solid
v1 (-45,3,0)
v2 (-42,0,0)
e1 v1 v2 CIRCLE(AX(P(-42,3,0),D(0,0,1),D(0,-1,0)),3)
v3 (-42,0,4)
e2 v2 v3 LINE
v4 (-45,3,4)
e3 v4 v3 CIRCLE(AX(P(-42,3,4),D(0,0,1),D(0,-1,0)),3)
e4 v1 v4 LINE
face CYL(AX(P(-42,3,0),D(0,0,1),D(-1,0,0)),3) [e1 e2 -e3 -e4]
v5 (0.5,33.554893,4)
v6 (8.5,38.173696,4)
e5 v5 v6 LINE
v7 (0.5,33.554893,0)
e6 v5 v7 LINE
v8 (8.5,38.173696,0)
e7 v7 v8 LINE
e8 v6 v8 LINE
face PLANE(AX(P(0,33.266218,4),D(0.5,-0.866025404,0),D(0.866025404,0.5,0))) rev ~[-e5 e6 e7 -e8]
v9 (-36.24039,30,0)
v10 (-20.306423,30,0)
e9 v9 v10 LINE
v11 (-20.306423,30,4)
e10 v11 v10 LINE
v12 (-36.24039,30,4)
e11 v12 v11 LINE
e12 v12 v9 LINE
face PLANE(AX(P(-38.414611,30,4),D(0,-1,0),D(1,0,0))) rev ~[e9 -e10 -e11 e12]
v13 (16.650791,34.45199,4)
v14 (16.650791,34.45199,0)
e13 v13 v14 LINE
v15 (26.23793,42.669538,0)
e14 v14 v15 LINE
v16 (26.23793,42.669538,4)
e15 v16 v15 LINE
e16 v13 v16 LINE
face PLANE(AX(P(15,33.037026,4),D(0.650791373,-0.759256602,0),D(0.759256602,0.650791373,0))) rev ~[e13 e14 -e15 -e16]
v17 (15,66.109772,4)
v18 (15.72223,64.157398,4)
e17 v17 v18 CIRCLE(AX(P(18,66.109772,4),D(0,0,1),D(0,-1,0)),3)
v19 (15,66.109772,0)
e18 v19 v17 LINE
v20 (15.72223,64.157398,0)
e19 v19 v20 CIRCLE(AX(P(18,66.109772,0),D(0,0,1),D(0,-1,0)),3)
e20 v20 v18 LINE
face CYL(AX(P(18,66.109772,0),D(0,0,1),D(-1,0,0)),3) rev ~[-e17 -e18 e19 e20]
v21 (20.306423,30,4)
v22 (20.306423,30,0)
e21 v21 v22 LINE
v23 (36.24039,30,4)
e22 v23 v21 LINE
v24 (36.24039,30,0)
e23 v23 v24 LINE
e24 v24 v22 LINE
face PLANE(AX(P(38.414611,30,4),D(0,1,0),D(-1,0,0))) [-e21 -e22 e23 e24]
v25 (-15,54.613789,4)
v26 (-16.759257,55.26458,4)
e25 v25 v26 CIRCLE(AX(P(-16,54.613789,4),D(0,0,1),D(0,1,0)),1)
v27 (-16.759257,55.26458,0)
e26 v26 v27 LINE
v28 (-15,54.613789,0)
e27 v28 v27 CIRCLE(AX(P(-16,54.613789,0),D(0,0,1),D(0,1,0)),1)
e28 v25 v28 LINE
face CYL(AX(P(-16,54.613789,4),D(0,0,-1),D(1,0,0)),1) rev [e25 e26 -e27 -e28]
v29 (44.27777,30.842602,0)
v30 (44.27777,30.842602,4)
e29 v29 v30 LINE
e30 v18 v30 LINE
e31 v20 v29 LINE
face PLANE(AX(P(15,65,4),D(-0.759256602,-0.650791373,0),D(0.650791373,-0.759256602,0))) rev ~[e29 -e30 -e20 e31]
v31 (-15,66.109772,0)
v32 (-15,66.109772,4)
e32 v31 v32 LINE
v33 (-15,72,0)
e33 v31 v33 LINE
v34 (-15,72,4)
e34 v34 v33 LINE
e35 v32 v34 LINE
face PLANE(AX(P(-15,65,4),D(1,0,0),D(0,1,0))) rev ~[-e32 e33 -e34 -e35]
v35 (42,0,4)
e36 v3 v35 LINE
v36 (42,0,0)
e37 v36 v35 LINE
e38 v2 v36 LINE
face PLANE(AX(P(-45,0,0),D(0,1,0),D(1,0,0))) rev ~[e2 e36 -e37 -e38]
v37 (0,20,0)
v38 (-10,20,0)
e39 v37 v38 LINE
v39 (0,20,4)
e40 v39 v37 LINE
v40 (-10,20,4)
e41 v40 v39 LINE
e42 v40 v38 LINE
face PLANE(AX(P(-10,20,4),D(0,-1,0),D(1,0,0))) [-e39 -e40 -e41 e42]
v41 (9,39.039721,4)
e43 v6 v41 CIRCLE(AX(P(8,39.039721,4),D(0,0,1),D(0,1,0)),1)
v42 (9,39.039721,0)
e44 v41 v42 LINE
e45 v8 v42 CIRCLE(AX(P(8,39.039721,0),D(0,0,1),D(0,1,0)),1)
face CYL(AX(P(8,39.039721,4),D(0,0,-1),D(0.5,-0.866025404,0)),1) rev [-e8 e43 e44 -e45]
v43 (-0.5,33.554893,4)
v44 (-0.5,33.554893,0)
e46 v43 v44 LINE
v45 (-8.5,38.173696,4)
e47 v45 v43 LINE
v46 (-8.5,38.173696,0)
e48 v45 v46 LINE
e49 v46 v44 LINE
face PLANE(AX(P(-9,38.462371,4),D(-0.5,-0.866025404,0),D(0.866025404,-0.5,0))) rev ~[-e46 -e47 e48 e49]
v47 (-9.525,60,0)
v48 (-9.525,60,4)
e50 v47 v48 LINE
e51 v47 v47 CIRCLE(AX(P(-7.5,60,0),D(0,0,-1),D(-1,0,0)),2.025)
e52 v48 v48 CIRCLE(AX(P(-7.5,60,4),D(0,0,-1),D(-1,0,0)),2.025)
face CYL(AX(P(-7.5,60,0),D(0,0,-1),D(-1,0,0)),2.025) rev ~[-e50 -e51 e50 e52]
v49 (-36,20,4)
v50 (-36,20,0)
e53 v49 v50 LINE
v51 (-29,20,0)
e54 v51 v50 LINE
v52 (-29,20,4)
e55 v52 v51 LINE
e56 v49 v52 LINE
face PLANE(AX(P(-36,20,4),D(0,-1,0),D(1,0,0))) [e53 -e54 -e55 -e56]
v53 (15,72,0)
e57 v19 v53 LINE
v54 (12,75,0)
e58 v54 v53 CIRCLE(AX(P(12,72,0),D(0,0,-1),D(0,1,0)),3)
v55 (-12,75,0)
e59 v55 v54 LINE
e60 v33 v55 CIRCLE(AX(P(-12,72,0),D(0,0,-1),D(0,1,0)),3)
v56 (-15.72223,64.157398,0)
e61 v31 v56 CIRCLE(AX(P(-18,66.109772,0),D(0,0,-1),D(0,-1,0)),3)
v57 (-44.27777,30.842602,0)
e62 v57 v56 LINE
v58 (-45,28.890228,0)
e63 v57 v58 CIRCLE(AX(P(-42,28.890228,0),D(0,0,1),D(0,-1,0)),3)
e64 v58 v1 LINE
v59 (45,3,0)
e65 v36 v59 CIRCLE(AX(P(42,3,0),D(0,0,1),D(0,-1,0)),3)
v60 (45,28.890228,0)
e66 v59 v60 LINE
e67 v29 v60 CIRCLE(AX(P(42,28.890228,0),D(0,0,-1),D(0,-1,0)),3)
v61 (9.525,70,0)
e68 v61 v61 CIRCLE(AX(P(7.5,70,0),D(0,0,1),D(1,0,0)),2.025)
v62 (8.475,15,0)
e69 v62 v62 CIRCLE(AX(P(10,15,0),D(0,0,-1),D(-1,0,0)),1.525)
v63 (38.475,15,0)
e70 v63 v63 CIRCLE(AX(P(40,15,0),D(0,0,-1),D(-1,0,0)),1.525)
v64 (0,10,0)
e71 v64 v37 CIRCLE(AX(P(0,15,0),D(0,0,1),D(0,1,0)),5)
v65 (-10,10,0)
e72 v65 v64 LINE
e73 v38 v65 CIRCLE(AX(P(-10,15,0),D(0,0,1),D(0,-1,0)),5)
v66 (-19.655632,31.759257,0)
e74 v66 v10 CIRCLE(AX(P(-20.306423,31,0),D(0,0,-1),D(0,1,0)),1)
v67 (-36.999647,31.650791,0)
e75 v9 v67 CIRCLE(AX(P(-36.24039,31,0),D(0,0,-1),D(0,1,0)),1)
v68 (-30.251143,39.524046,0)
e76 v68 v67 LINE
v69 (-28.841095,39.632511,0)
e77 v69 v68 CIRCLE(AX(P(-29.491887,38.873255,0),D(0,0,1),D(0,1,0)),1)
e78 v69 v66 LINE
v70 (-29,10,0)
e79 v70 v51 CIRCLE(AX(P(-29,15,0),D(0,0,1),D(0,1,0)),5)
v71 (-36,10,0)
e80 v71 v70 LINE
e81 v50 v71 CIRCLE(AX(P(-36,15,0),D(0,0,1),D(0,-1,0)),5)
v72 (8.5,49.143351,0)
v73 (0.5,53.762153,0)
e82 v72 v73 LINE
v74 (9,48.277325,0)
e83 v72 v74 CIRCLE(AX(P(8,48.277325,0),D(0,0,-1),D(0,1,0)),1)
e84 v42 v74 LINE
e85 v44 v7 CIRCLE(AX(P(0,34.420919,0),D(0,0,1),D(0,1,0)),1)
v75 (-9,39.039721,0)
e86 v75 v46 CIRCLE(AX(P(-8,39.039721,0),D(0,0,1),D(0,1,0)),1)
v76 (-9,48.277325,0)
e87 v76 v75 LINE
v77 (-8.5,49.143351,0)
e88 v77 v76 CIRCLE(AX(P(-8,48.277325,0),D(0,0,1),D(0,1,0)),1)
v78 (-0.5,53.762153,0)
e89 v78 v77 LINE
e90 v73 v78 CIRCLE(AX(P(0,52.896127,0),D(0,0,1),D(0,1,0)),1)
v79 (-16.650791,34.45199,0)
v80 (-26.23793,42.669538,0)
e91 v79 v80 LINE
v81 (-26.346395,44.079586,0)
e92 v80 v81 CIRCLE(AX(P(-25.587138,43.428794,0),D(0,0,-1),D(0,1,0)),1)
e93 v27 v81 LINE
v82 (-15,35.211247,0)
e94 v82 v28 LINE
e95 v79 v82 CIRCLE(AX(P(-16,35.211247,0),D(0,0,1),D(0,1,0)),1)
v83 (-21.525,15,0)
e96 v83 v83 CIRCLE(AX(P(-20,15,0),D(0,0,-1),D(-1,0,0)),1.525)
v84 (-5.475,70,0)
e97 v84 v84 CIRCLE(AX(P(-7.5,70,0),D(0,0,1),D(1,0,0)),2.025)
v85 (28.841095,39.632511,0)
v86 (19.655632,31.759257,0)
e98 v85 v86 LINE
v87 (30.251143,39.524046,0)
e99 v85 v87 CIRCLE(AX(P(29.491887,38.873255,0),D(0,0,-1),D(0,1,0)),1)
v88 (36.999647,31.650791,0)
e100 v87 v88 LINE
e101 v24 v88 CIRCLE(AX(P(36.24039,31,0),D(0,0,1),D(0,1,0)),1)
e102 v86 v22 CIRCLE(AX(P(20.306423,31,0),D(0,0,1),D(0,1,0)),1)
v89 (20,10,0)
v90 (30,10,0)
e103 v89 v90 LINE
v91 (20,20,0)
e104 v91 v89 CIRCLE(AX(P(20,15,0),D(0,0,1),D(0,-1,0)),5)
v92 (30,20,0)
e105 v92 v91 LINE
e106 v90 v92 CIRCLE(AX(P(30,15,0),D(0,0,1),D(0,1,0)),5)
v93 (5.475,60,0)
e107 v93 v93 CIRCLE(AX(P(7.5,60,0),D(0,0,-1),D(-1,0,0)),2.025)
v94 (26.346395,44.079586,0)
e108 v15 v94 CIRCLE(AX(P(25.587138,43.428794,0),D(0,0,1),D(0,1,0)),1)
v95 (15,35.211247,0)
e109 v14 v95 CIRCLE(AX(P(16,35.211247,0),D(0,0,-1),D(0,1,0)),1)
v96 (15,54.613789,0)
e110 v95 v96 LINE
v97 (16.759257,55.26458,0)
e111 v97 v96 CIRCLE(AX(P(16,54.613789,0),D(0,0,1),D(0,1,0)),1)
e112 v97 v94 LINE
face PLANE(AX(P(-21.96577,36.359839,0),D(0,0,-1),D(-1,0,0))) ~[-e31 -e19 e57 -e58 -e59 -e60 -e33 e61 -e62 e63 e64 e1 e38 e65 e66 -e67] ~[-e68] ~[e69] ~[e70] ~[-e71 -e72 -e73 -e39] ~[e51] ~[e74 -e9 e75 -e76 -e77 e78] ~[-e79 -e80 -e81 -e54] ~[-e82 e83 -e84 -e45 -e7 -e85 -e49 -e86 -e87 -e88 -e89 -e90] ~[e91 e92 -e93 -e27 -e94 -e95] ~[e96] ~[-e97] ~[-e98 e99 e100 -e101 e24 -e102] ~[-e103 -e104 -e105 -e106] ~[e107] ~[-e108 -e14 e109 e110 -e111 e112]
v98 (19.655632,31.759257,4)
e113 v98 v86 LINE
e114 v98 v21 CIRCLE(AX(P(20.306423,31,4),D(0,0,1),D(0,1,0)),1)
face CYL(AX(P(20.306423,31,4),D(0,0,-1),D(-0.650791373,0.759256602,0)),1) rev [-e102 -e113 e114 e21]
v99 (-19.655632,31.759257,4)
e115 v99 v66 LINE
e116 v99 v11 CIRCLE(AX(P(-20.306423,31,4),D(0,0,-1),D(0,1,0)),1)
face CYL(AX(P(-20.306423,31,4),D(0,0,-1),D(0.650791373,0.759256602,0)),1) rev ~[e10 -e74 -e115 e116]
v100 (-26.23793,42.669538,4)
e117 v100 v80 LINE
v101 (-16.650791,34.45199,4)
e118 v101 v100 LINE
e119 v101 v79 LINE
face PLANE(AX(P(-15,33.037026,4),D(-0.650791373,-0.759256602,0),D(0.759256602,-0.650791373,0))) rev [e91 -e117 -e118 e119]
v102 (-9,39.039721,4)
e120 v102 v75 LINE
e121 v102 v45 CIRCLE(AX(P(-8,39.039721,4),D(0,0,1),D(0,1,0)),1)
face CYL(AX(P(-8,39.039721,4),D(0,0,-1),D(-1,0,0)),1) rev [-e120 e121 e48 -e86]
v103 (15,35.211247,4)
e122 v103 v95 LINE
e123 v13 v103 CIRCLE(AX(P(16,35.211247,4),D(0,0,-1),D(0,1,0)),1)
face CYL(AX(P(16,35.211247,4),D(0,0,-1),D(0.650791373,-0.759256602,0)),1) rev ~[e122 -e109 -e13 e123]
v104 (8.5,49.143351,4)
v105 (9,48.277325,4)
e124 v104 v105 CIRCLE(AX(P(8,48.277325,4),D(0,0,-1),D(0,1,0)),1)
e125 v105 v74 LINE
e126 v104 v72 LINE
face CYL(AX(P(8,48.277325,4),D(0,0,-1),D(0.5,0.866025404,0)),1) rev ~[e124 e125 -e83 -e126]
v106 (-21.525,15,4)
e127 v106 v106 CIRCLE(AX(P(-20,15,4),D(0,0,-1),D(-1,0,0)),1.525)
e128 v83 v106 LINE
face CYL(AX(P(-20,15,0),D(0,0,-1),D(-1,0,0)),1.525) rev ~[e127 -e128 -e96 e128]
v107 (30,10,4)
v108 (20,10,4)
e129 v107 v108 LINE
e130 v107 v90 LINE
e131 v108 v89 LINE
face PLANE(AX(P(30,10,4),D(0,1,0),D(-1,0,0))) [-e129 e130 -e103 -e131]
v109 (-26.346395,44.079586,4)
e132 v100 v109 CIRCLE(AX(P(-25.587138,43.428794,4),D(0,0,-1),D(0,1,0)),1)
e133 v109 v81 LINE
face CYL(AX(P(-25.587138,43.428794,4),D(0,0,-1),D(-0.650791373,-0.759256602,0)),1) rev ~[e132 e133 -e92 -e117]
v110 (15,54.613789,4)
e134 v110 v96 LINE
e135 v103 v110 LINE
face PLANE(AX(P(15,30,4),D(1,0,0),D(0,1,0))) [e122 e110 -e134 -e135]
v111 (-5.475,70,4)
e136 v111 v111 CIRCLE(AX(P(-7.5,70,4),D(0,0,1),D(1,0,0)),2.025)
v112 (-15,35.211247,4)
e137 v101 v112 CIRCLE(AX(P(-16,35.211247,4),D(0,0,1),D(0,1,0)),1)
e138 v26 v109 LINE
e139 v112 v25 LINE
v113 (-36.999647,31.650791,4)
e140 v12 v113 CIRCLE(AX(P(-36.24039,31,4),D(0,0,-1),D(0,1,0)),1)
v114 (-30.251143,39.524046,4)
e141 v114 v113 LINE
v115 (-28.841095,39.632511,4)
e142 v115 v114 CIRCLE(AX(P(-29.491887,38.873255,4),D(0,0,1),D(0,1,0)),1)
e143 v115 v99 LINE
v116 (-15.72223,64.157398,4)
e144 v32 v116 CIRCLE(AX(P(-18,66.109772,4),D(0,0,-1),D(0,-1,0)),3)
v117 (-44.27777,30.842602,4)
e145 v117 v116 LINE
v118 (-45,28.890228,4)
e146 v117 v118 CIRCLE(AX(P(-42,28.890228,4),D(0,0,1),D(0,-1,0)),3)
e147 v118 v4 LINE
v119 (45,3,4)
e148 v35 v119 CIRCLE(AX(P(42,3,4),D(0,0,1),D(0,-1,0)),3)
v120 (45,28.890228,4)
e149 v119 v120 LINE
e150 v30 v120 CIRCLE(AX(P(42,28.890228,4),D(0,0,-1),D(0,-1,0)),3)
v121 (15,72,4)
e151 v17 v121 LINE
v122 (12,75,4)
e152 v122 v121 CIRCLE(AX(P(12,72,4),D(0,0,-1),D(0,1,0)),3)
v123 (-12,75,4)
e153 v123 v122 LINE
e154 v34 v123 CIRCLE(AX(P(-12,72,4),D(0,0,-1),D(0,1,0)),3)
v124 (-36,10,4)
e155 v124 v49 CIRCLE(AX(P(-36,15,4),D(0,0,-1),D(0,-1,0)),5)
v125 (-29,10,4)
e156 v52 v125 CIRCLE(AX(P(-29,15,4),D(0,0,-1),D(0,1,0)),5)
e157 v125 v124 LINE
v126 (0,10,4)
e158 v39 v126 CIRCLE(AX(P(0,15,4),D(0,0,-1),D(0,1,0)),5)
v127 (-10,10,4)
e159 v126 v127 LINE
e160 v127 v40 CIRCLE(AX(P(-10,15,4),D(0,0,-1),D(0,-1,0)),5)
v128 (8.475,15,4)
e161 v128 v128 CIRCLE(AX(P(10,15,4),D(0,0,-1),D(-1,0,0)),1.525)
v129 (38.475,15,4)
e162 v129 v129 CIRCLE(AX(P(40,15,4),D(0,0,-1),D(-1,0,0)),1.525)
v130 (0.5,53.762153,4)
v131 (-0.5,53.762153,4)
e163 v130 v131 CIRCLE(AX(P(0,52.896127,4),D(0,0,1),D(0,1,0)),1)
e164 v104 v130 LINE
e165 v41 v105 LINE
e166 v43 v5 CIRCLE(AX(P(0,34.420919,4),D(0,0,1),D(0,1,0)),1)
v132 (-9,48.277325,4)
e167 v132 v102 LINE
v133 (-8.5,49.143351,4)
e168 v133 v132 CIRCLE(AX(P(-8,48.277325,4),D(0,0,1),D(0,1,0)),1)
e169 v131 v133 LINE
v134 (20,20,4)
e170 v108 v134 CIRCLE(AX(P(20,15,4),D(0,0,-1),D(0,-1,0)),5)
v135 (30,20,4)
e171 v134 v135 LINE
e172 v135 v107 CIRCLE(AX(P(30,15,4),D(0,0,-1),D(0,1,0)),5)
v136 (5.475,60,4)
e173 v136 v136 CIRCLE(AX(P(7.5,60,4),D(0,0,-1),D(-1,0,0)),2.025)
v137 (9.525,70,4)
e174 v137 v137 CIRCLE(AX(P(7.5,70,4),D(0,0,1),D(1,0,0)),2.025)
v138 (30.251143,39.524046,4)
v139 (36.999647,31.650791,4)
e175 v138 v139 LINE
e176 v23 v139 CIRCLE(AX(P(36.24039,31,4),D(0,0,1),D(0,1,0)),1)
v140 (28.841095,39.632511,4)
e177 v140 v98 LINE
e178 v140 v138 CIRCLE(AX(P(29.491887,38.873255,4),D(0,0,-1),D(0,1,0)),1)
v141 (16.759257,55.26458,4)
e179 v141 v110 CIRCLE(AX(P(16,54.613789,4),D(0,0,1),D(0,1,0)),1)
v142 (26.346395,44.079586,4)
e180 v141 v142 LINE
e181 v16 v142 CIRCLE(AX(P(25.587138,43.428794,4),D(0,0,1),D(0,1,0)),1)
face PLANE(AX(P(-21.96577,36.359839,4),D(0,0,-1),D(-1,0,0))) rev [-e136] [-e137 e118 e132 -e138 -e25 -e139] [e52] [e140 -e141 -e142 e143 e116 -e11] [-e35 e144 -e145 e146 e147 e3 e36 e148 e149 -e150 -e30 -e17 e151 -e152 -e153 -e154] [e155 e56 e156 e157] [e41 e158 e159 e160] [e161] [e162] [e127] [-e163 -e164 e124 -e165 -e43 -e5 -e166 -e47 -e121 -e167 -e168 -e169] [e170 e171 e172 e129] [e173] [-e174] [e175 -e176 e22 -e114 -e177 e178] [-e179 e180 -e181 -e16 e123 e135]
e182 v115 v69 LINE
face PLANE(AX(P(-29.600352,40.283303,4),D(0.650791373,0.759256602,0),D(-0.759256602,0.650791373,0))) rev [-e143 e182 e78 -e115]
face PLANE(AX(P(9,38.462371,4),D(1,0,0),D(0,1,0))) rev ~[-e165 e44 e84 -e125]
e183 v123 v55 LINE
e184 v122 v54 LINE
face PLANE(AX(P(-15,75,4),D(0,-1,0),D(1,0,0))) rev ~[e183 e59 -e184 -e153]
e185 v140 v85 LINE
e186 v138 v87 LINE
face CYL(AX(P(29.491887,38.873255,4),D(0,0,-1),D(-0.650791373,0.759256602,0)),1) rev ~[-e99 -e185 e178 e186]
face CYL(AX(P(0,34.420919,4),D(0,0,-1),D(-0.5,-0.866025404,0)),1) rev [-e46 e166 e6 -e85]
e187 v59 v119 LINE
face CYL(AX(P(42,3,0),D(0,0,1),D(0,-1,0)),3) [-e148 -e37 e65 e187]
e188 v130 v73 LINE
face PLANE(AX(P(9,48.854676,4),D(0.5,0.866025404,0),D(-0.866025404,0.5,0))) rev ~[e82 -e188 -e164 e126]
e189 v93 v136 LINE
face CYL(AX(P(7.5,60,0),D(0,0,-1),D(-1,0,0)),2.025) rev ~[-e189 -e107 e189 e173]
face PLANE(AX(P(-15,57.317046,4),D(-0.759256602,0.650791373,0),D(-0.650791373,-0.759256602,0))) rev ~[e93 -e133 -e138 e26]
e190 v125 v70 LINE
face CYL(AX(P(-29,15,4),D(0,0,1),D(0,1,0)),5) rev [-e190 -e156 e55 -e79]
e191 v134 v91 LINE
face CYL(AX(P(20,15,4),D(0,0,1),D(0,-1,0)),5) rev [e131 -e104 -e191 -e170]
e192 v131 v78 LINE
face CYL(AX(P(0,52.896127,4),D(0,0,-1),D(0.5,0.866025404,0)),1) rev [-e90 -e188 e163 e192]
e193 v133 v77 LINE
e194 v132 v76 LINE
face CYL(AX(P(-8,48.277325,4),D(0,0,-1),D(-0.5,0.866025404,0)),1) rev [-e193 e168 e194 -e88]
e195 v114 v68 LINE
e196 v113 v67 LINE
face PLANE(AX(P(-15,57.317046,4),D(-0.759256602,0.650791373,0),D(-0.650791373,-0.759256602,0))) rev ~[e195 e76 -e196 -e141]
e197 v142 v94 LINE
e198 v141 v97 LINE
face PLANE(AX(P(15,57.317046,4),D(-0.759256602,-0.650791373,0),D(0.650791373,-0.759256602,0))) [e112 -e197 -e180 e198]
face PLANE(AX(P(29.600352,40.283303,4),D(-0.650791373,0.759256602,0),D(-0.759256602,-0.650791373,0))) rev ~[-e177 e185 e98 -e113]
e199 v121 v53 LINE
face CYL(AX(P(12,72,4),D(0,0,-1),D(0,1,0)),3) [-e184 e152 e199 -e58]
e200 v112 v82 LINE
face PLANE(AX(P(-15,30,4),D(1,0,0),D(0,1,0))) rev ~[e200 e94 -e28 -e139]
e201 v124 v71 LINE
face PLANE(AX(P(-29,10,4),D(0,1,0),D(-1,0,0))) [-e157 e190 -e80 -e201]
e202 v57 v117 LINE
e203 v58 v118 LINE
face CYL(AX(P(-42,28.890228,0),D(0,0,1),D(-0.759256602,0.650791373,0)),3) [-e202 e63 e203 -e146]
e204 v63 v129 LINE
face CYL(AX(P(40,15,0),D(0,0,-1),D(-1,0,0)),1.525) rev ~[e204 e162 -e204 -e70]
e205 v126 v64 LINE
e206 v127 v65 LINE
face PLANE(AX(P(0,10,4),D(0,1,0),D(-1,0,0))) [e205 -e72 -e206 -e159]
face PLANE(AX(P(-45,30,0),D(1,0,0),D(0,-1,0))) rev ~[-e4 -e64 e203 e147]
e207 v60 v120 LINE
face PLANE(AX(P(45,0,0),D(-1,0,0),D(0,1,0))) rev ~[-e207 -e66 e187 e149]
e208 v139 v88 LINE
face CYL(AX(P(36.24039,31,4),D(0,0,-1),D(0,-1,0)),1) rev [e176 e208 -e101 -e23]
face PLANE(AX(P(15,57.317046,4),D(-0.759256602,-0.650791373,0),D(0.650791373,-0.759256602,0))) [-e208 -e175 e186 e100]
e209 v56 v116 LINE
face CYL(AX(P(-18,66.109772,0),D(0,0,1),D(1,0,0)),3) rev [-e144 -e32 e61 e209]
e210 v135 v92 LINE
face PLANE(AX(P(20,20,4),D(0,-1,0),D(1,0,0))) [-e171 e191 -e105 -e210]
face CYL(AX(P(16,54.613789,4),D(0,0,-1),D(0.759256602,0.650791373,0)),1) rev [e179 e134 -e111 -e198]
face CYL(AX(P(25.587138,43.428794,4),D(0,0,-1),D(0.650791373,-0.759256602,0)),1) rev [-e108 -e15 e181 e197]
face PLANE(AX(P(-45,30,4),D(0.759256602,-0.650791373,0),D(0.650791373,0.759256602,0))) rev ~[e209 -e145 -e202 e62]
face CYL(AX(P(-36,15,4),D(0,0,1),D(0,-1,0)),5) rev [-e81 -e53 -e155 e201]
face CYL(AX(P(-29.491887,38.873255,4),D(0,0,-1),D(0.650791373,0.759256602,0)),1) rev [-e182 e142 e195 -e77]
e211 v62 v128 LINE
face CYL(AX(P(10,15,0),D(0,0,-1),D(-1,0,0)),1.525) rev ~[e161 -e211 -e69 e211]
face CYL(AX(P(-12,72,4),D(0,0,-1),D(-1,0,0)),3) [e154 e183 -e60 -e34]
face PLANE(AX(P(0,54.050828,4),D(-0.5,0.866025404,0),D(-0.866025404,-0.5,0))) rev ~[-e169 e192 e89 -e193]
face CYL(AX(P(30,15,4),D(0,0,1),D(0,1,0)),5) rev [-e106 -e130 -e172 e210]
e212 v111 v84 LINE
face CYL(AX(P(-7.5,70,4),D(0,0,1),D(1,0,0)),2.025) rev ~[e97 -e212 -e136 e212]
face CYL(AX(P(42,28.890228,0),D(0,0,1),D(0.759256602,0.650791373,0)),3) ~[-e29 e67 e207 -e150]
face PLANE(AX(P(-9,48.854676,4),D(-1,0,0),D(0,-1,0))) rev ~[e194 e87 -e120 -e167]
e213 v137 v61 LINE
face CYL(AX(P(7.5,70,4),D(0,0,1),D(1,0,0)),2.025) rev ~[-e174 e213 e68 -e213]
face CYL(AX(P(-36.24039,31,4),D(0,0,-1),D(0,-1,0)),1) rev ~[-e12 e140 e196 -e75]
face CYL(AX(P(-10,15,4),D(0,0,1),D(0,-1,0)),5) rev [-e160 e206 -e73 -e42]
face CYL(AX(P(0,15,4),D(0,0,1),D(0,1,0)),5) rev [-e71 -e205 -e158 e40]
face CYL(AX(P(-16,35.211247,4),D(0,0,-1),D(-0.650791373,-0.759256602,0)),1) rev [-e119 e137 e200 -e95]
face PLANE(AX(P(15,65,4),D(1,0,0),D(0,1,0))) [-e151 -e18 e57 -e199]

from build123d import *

# Parameters (mm, degrees)
EXTRUDE_1_DEPTH          = 4
EXTRUDE_2_DEPTH          = 4
CUT_EXTRUDE_2_DEPTH      = 4
CUT_EXTRUDE_3_DEPTH      = 4
SKETCH_8_R               = 1.525
CUT_EXTRUDE_4_DEPTH      = 10
SKETCH_9_R               = 2.025
CUT_EXTRUDE_5_DEPTH      = 10
CUT_EXTRUDE_6_DEPTH      = 1
CUT_EXTRUDE_6_DEPTH_BACK = 5
SKETCH_11_W              = 30
SKETCH_11_H              = 10
SKETCH_11_R              = 2.025
EXTRUDE_3_DEPTH          = 4
FILLET_2_R               = 3
EXTRUDE_4_DEPTH          = 4
FILLET_3_R               = 1


with BuildPart() as part:
    # 草图1 → 凸台-拉伸1 (new body)
    with BuildSketch(Plane.XY):
        Polygon((-45, 0), (45, 0), (45, 30), (15, 30), (15, 65), (-15, 65), (-15, 30), (-45, 30), align=None)
    extrude(amount=EXTRUDE_1_DEPTH)

    # 草图4 → 凸台-拉伸2 (add)
    with BuildSketch(Plane.XY.offset(4)):
        Polygon((-45, 30), (-15, 65), (-15, 30), align=None)
        Polygon((15, 65), (45, 30), (15, 30), align=None)
    extrude(amount=-EXTRUDE_2_DEPTH)

    # 草图5 → 切除-拉伸2 (cut)
    with BuildSketch(Plane.XY.offset(4)):
        Polygon((-38.414611102, 30), (-15, 30), (-15, 57.317046286), align=None)
        Polygon((15, 57.317046286), (38.414611102, 30), (15, 30), align=None)
    extrude(amount=-CUT_EXTRUDE_2_DEPTH, mode=Mode.SUBTRACT)

    # 草图6 → 切除-拉伸3 (cut)
    with BuildSketch(Plane.XY.offset(4)):
        Polygon((0, 54.050827988), (-9, 48.854675566), (-9, 38.46237072), (0, 33.266218297), (9, 38.46237072), (9, 48.854675566), align=None)
    extrude(amount=-CUT_EXTRUDE_3_DEPTH, mode=Mode.SUBTRACT)

    # 草图8 → 切除-拉伸4 (cut)
    with BuildSketch(Plane(origin=(0, 0, 0), x_dir=(-1, 0, 0), z_dir=(0, 0, -1))):
        with Locations((20.000000001, 14.999999905)):
            Circle(SKETCH_8_R)
        with Locations((-9.999999999, 14.999999905)):
            Circle(SKETCH_8_R)
        with Locations((-39.999999999, 14.999999905)):
            Circle(SKETCH_8_R)
    extrude(amount=-CUT_EXTRUDE_4_DEPTH, mode=Mode.SUBTRACT)

    # 草图9 → 切除-拉伸5 (cut)
    with BuildSketch(Plane(origin=(0, 0, 0), x_dir=(-1, 0, 0), z_dir=(0, 0, -1))):
        with Locations((-7.5, 60)):
            Circle(SKETCH_9_R)
        with Locations((7.5, 60)):
            Circle(SKETCH_9_R)
    extrude(amount=-CUT_EXTRUDE_5_DEPTH, mode=Mode.SUBTRACT)

    # 草图10 → 切除-拉伸6 (cut, two sides)
    with BuildSketch(Plane.XY.offset(4)) as cut_extrude_6_sk:
        with BuildLine():
            Line((-10.000000001, 19.999999905), (-1e-09, 19.999999905))
            ThreePointArc((-1e-09, 19.999999905), (4.999999999, 14.999999905), (-1e-09, 9.999999905))
            Line((-1e-09, 9.999999905), (-10.000000001, 9.999999905))
            ThreePointArc((-10.000000001, 9.999999905), (-15.000000001, 14.999999905), (-10.000000001, 19.999999905))
        make_face()
        with BuildLine():
            Line((19.999999999, 19.999999905), (29.999999999, 19.999999905))
            ThreePointArc((29.999999999, 19.999999905), (34.999999999, 14.999999905), (29.999999999, 9.999999905))
            Line((29.999999999, 9.999999905), (19.999999999, 9.999999905))
            ThreePointArc((19.999999999, 9.999999905), (14.999999999, 14.999999905), (19.999999999, 19.999999905))
        make_face()
        with BuildLine():
            Line((-36, 19.999999905), (-29, 19.999999905))
            ThreePointArc((-29, 19.999999905), (-24, 14.999999905), (-29, 9.999999905))
            Line((-29, 9.999999905), (-36, 9.999999905))
            ThreePointArc((-36, 9.999999905), (-41, 14.999999905), (-36, 19.999999905))
        make_face()
    extrude(amount=CUT_EXTRUDE_6_DEPTH, mode=Mode.SUBTRACT)
    extrude(cut_extrude_6_sk.sketch, amount=-CUT_EXTRUDE_6_DEPTH_BACK, mode=Mode.SUBTRACT)

    # 草图11 → 凸台-拉伸3 (add)
    with BuildSketch(Plane.XY.offset(4)):
        with Locations((0, 70)):
            Rectangle(SKETCH_11_W, SKETCH_11_H)
        with Locations((7.5, 70)):
            Circle(SKETCH_11_R, mode=Mode.SUBTRACT)
        with Locations((-7.5, 70)):
            Circle(SKETCH_11_R, mode=Mode.SUBTRACT)
    extrude(amount=-EXTRUDE_3_DEPTH)

    # 圆角2
    fillet_2_edges = [part.edges().sort_by_distance(p)[0] for p in [
        (-45, 30, 2),
        (-15, 65, 2),
        (15, 65, 2),
        (45, 30, 2),
        (45, 0, 2),
        (-45, 0, 2),
        (15, 75, 2),
        (-15, 75, 2),
    ]]
    fillet(fillet_2_edges, radius=FILLET_2_R)

    # 草图13 → 凸台-拉伸4 (add)
    with BuildSketch(Plane.XY.offset(4)):
        Polygon((15, 33.037026409), (26.997186292, 43.320328945), (29.600351786, 40.283302536), (17.603165494, 30), (15, 30), align=None)
    extrude_4 = extrude(amount=-EXTRUDE_4_DEPTH)

    # 镜向1: 凸台-拉伸4 across plane
    add(extrude_4.mirror(Plane(origin=(0, 0, 0), x_dir=(0, 0, 1), z_dir=(1, 0, 0))))

    # 圆角3
    fillet_3_edges = [part.edges().sort_by_distance(p)[0] for p in [
        (15, 33.037026409, 2),
        (26.997186292, 43.320328945, 2),
        (29.600351786, 40.283302536, 2),
        (17.603165494, 30, 2),
        (-26.997186292, 43.320328945, 2),
        (-29.600351786, 40.283302536, 2),
        (-17.603165494, 30, 2),
        (-15, 33.037026409, 2),
        (-38.414611102, 30, 2),
        (-15, 57.317046286, 2),
        (15, 57.317046286, 2),
        (38.414611102, 30, 2),
        (0, 54.050827988, 2),
        (9, 48.854675566, 2),
        (9, 38.46237072, 2),
        (0, 33.266218297, 2),
        (-9, 38.46237072, 2),
        (-9, 48.854675566, 2),
    ]]
    fillet(fillet_3_edges, radius=FILLET_3_R)


solid = part.part
